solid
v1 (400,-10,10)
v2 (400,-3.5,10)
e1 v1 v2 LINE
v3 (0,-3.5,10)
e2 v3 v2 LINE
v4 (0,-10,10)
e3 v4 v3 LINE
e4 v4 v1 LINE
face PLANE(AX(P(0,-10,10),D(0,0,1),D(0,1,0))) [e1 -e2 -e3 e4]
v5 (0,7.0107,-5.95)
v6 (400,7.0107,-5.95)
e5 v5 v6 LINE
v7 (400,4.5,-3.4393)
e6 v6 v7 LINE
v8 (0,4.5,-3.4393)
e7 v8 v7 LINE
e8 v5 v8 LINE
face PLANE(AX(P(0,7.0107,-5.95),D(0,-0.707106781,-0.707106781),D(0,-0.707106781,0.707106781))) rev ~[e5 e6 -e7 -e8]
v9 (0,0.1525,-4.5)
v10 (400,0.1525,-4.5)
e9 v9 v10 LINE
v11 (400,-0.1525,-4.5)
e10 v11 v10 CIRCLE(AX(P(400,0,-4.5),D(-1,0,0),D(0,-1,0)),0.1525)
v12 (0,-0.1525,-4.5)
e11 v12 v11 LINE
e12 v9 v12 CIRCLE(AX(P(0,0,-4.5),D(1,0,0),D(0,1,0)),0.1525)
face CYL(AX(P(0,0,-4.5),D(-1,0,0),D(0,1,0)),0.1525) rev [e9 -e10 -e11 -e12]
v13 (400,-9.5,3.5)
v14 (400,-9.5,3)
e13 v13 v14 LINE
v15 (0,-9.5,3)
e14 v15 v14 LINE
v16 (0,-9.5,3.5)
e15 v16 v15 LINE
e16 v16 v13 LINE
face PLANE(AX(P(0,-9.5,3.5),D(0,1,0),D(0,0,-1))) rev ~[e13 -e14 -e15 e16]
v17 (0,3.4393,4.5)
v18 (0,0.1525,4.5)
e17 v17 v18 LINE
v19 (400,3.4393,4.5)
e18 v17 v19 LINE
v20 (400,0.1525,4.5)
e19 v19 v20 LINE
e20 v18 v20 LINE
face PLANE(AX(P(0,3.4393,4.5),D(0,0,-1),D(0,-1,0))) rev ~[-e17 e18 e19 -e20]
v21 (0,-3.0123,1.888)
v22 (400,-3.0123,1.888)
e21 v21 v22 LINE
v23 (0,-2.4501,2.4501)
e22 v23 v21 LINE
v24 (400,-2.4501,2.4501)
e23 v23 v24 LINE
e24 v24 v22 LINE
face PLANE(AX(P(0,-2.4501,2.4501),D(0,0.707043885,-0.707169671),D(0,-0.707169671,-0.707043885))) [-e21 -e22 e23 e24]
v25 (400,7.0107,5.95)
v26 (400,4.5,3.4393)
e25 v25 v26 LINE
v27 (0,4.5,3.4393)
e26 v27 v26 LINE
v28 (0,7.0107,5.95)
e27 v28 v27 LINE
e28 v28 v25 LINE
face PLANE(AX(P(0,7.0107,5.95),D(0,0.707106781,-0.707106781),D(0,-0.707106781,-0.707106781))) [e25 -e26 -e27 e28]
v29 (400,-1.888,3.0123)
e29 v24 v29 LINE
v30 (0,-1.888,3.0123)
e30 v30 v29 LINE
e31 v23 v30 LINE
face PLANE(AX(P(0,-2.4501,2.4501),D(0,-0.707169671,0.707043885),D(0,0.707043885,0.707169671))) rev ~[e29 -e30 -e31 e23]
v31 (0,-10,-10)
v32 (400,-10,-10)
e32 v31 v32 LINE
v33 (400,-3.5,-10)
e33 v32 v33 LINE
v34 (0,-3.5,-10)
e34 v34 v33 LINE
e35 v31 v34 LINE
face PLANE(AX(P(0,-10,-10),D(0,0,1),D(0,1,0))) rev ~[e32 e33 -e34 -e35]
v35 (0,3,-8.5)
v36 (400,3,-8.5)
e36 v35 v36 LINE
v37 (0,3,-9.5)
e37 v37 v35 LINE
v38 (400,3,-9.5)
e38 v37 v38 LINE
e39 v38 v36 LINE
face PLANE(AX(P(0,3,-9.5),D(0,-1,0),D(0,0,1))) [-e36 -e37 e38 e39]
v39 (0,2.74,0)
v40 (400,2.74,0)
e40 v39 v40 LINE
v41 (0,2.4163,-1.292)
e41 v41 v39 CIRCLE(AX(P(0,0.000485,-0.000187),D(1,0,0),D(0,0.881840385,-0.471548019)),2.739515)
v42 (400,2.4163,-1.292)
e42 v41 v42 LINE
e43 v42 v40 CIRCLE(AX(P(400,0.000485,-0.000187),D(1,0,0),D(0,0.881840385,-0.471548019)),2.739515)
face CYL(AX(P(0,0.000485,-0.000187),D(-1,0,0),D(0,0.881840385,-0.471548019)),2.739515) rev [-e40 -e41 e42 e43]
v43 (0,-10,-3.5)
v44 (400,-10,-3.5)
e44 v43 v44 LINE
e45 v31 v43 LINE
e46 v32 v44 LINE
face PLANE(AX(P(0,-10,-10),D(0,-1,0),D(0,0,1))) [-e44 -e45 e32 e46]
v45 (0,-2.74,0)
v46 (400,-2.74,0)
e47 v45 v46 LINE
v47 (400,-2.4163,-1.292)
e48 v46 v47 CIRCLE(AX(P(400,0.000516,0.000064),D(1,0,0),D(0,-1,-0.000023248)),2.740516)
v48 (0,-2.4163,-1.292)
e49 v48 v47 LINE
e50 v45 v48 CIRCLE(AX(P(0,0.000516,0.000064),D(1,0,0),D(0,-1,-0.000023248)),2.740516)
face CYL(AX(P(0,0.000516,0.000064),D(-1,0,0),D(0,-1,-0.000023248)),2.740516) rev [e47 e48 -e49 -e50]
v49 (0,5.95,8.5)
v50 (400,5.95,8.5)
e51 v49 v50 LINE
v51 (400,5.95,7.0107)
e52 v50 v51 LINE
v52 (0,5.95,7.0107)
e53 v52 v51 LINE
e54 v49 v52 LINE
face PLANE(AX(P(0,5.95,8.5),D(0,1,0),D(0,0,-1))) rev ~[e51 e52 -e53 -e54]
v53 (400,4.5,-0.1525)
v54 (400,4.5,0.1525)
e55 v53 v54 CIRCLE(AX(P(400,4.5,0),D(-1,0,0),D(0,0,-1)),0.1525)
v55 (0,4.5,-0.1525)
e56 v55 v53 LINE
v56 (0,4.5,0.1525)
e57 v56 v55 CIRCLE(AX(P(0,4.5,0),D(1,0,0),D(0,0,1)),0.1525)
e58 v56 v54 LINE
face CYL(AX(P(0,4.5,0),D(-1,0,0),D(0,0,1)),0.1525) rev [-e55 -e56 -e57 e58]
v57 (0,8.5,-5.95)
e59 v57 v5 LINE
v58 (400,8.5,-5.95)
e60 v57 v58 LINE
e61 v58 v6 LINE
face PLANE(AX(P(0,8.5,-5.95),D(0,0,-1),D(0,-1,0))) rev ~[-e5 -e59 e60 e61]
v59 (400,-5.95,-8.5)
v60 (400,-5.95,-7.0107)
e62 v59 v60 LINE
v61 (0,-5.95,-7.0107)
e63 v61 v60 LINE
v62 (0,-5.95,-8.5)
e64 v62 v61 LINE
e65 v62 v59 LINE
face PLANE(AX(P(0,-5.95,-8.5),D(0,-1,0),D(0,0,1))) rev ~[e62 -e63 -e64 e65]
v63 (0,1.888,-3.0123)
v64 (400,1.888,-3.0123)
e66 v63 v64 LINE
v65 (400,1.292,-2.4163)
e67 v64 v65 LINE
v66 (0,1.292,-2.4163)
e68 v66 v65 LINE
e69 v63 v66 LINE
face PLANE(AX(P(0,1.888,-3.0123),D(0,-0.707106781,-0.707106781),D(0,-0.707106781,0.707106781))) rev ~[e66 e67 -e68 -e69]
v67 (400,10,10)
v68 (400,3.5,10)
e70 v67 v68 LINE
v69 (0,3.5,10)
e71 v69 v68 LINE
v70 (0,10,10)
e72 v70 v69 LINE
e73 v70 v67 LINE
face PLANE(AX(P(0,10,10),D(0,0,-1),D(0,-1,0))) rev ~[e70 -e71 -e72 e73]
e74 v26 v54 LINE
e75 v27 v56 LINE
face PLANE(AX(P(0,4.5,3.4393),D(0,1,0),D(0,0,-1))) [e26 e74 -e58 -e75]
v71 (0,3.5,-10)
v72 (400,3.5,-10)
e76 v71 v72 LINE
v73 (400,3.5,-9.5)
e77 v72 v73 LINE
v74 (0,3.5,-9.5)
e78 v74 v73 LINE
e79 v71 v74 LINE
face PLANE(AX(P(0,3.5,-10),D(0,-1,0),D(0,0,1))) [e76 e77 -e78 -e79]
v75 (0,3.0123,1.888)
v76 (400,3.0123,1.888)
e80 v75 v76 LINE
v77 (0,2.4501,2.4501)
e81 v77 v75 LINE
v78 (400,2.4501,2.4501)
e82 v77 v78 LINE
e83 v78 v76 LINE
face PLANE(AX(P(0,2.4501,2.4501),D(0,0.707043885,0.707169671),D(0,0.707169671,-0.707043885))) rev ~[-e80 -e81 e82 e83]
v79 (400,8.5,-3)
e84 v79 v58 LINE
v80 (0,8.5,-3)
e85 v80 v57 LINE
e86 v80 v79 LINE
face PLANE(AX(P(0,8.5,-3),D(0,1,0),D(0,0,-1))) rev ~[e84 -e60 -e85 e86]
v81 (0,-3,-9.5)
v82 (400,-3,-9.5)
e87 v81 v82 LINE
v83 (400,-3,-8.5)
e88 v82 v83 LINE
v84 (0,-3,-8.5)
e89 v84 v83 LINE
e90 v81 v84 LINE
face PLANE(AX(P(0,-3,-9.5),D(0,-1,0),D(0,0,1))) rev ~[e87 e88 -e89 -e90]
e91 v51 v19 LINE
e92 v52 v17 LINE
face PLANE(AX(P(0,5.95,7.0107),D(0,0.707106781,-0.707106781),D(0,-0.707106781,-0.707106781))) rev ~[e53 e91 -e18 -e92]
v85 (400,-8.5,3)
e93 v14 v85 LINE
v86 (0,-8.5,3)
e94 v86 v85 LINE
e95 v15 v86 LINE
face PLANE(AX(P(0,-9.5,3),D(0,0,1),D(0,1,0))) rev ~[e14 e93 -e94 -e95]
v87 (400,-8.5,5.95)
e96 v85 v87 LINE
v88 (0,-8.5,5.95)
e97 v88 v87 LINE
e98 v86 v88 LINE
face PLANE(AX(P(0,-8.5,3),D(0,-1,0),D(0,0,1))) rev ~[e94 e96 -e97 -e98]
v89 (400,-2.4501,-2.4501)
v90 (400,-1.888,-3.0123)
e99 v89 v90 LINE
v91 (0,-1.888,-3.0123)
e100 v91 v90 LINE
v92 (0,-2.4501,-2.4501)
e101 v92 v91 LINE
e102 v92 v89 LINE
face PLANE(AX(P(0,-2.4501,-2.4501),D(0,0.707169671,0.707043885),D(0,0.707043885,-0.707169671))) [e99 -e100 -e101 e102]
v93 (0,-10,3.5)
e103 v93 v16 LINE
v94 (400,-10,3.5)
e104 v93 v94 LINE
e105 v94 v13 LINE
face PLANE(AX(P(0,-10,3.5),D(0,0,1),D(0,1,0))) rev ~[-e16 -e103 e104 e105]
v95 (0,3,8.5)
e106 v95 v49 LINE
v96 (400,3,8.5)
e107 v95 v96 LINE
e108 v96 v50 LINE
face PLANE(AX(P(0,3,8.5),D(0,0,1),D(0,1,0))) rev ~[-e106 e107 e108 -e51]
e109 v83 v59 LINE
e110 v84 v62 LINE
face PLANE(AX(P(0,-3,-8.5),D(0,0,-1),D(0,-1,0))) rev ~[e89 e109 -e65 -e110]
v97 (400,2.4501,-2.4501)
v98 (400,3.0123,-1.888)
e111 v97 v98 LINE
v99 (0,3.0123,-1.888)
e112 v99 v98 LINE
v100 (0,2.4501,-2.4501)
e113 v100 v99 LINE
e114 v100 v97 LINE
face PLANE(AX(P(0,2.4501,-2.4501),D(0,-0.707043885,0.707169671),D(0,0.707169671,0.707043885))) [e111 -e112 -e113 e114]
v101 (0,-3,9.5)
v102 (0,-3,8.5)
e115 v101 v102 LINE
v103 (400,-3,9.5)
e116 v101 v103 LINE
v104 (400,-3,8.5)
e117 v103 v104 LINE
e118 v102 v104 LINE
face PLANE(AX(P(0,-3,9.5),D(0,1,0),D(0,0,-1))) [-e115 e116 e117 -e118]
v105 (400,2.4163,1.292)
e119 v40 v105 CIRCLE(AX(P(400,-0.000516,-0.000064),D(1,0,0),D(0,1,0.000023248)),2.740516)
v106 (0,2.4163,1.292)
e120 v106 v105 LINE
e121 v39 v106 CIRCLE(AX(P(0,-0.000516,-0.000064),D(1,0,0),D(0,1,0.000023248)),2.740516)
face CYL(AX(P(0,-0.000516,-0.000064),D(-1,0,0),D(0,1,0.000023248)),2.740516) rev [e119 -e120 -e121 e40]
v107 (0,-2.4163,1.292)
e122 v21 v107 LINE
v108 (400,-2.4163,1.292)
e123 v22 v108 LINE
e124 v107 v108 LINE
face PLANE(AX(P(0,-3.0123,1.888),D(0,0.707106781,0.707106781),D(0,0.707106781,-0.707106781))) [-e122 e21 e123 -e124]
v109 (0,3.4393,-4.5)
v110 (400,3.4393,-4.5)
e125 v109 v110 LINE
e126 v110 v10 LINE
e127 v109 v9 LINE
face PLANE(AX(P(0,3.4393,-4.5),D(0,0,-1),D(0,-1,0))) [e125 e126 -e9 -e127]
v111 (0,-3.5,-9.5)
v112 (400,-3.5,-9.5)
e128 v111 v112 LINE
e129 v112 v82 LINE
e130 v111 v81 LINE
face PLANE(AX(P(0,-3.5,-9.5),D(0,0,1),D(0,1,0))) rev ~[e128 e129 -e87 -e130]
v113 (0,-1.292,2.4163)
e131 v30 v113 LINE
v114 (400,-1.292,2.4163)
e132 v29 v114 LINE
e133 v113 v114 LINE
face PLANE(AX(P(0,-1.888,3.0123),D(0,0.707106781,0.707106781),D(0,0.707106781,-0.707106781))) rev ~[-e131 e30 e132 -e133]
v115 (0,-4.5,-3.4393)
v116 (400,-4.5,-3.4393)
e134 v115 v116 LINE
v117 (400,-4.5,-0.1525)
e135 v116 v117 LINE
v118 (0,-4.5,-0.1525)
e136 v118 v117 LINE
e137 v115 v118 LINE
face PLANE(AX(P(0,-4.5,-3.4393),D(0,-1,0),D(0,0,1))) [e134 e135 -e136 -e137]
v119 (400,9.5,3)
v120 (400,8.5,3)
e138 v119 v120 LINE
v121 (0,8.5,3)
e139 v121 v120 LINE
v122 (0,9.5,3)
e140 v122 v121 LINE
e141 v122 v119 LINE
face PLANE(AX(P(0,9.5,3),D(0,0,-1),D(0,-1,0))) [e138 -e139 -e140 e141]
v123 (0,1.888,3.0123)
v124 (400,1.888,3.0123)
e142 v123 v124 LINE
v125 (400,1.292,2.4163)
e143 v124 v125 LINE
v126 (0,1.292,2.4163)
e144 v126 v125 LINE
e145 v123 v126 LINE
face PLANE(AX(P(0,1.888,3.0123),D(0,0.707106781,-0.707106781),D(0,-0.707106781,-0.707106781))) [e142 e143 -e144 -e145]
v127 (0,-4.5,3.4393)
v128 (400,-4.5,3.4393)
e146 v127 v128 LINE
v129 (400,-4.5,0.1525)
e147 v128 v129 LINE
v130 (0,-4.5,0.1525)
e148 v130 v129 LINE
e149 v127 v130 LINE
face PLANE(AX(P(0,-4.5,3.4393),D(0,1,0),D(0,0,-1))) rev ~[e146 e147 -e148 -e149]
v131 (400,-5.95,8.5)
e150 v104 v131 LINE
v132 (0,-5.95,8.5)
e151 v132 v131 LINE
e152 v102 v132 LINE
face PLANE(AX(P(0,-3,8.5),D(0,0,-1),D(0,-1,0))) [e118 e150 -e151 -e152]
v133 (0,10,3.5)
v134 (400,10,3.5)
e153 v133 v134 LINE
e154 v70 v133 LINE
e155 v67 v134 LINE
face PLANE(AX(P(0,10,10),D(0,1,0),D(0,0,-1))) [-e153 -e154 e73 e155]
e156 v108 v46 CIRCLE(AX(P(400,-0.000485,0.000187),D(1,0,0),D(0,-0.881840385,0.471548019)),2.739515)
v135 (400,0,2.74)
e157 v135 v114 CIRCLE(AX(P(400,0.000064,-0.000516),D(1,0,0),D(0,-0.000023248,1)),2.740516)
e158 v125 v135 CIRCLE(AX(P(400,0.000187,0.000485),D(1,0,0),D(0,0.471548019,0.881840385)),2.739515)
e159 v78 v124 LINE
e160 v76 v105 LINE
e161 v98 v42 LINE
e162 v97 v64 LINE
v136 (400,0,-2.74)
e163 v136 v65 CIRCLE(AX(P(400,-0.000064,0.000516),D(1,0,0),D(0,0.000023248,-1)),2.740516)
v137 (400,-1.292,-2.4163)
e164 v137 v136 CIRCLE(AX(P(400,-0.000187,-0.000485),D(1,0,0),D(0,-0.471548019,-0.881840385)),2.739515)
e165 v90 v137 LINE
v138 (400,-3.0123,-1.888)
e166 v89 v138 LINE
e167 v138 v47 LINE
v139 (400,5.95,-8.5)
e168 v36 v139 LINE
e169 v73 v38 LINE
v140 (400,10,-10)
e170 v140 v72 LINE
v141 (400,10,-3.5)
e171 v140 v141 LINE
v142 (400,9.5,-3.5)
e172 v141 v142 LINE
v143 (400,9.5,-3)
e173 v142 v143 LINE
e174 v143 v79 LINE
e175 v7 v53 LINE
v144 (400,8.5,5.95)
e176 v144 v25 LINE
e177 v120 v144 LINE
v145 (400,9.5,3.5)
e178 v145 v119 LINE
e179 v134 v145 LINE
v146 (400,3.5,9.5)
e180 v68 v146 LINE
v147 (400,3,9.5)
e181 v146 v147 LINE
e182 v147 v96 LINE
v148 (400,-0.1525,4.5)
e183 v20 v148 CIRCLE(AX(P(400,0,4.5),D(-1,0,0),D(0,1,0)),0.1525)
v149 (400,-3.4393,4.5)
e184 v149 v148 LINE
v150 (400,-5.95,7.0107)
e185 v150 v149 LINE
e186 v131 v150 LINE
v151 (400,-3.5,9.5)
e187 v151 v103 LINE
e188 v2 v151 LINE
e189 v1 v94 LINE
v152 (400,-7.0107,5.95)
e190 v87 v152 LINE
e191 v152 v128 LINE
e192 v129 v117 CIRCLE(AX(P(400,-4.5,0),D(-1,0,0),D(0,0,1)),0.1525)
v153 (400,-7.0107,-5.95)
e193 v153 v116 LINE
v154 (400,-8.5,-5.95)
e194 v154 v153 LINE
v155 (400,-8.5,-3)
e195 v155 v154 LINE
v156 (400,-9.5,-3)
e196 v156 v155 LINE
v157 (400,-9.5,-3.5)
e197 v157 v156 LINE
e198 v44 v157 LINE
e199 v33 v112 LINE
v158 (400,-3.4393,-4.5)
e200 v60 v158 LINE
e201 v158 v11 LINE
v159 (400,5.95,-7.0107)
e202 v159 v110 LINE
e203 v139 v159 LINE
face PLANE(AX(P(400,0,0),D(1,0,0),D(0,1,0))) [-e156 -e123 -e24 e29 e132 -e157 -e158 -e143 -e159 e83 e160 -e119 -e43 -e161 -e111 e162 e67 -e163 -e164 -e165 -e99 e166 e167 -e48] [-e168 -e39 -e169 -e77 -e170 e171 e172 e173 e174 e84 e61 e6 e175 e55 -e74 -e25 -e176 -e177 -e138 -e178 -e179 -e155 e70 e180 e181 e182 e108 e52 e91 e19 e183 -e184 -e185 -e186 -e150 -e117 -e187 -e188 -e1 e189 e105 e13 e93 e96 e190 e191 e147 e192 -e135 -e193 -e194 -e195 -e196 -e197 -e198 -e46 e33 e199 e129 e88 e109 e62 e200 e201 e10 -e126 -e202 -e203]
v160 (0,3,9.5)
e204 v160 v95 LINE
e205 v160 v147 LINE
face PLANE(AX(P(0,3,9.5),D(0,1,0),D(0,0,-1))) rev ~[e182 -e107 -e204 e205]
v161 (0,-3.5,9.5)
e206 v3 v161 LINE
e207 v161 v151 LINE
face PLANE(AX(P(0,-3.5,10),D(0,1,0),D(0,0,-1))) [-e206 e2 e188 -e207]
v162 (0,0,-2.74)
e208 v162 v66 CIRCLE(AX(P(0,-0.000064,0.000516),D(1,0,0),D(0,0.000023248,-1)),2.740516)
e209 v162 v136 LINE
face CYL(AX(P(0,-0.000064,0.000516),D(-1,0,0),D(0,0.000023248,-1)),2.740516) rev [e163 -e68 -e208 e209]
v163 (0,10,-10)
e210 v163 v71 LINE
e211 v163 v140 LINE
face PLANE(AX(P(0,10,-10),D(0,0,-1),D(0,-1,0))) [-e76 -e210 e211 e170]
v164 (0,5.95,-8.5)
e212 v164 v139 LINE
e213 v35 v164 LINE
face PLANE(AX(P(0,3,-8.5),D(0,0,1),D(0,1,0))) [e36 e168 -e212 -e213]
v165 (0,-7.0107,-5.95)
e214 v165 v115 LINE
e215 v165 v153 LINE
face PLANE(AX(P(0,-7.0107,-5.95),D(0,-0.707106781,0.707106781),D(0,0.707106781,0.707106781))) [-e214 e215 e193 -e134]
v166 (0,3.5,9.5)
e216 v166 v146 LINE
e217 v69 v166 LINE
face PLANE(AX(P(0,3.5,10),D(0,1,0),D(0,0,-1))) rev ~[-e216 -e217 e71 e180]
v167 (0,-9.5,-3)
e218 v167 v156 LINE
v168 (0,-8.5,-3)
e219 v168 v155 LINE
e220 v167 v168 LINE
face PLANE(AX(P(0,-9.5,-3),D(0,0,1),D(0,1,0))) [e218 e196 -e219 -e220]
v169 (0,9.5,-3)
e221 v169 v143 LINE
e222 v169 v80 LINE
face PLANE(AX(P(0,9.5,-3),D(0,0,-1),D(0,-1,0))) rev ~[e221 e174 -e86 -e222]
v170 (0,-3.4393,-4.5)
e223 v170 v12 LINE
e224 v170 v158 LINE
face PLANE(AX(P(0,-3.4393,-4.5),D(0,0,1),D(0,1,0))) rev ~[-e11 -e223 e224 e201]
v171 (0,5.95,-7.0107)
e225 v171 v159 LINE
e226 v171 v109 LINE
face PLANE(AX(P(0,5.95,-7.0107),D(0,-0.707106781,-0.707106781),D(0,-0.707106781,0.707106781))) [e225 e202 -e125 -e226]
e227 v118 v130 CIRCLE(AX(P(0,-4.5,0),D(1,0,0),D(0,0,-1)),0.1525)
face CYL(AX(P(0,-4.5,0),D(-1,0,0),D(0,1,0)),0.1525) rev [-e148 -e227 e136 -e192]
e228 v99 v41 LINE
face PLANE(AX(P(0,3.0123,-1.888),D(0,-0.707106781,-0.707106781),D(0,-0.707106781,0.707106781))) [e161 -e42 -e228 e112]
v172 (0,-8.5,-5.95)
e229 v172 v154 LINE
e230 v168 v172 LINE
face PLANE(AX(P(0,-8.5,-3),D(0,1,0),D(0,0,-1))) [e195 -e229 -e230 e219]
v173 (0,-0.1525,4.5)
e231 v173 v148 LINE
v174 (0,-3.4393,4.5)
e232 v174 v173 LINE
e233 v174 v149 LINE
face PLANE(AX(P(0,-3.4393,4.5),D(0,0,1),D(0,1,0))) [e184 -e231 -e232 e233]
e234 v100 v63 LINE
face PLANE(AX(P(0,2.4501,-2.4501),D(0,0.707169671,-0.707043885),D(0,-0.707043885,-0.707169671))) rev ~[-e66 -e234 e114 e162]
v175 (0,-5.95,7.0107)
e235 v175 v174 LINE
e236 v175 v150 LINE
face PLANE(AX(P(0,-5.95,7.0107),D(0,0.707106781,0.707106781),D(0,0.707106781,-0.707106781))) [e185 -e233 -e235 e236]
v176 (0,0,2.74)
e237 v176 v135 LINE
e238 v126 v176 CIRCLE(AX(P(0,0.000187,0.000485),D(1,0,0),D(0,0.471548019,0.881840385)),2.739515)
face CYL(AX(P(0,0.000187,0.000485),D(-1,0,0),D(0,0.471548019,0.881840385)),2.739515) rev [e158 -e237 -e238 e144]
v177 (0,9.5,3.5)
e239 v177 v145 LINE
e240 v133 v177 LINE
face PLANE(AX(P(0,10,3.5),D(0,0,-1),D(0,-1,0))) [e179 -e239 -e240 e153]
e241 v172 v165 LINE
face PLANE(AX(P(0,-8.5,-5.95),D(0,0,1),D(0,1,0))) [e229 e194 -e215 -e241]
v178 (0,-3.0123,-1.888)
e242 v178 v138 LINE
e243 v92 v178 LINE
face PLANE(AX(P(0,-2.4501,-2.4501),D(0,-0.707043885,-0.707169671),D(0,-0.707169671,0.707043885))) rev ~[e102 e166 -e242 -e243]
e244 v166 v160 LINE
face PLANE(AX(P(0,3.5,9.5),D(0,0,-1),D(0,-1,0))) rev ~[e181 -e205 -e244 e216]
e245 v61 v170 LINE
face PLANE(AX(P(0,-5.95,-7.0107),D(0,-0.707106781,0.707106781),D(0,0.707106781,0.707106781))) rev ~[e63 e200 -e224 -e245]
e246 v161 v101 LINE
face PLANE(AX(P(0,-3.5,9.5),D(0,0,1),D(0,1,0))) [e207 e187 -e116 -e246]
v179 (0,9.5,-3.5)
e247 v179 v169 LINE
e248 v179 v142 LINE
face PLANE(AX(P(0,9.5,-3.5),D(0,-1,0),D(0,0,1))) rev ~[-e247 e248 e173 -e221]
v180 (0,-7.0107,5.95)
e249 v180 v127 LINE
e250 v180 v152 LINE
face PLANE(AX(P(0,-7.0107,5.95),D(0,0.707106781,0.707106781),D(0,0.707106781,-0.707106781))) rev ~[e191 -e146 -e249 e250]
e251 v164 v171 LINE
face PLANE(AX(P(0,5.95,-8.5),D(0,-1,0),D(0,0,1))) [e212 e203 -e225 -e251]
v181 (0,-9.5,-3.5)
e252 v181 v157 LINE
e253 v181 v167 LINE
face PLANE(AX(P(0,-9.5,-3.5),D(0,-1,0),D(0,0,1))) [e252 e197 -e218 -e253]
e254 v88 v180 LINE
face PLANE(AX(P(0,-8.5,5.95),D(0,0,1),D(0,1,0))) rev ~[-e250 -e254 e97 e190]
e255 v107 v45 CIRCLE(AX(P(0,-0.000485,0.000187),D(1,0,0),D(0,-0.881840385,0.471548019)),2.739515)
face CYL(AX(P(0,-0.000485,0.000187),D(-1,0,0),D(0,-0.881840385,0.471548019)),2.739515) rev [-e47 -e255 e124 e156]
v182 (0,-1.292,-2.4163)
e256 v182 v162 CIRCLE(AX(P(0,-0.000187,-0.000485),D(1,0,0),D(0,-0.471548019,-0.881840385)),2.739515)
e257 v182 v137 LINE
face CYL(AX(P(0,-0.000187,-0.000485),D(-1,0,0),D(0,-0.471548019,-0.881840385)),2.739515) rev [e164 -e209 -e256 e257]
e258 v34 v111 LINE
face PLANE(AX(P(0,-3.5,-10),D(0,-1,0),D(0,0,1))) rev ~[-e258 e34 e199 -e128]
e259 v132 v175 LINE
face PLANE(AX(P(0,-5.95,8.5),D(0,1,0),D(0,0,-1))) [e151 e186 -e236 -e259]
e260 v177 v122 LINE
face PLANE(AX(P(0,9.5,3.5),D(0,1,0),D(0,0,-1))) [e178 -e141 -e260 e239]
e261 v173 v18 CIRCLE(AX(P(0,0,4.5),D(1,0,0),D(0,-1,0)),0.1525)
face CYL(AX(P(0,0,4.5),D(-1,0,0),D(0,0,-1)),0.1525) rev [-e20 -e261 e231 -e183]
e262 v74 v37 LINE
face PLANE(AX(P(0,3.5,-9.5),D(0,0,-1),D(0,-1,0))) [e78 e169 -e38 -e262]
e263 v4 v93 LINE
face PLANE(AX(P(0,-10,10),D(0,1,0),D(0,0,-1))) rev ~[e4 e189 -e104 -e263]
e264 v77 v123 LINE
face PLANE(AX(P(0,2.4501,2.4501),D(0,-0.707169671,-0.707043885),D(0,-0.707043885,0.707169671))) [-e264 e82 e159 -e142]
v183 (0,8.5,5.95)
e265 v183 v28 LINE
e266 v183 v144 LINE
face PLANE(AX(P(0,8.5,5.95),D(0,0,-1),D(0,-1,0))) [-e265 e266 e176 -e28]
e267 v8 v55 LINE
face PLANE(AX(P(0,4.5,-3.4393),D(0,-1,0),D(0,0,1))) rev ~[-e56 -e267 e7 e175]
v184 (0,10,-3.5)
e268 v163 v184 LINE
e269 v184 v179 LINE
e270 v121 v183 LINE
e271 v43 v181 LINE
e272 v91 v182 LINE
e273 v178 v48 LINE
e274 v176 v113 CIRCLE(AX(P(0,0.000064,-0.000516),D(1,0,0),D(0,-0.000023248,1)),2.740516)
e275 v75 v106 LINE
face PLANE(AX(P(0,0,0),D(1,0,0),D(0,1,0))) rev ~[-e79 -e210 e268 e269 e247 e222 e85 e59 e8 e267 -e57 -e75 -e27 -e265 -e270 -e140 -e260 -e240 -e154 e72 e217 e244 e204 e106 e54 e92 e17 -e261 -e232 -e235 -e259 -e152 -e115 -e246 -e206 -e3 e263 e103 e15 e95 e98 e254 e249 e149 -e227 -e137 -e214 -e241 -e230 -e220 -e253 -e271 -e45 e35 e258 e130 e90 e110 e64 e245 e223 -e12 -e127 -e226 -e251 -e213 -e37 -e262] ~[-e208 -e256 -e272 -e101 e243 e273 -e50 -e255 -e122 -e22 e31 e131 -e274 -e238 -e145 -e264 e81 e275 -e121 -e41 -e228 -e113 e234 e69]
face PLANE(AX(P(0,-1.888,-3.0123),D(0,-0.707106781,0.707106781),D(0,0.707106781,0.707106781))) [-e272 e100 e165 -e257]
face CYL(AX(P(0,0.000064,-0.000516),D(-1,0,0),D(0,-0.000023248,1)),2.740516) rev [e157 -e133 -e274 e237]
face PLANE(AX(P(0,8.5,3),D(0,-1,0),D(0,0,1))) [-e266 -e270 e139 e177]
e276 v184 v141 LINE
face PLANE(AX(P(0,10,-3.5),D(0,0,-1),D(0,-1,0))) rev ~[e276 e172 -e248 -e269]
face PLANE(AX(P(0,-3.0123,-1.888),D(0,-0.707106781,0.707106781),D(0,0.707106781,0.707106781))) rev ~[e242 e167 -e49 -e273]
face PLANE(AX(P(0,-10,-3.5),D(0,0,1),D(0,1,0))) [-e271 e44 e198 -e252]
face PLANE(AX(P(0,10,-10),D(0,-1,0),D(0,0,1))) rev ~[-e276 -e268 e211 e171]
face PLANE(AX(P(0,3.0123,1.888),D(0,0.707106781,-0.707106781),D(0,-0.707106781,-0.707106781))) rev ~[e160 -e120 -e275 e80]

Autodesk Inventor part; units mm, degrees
ref_plane "YZ Plane" through (0, 0, 0) normal (1, 0, 0) x (0, 1, 0)
ref_plane "XZ Plane" through (0, 0, 0) normal (0, 1, 0) x (-1, 0, 0)
ref_plane "XY Plane" through (0, 0, 0) normal (0, 0, 1) x (1, 0, 0)
sketch "Sketch1" plane through (0, 0, 0) normal (1, 0, 0) x (0, 1, 0)
  line L0 (-10, -10) -> (10, 10) construction
  line L1 (10, 10) -> (10, 3.5)
  line L2 (10, 3.5) -> (9.5, 3.5)
  line L3 (9.5, 3.5) -> (9.5, 3)
  line L4 (9.5, 3) -> (8.5, 3)
  line L5 (8.5, 3) -> (8.5, 5.95)
  line L6 (8.5, 5.95) -> (7.0107, 5.95)
  line L7 (7.0107, 5.95) -> (4.5, 3.4393)
  line L8 (4.5, 3.4393) -> (4.5, 0.1525)
  line L9 (2.4501, 2.4501) -> (3.0123, 1.888)
  line L10 (3.0123, 1.888) -> (2.4163, 1.292)
  arc A0 (2.74, 0) -> (2.4163, 1.292) centre (0, 0) ccw
  arc A1 (4.5, 0.1525) -> (4.3475, 0) centre (4.5, 0) ccw
  line L11 (10, 10) -> (2.4501, 2.4501)
  line L12 (4.3475, 0) -> (2.74, 0)
  line L13 (0, 0) -> (2.74, 0) construction
  line L14 (10, 10) -> (3.5, 10)
  line L15 (3.5, 10) -> (3.5, 9.5)
  line L16 (3.5, 9.5) -> (3, 9.5)
  line L17 (3, 9.5) -> (3, 8.5)
  line L18 (3, 8.5) -> (5.95, 8.5)
  line L19 (5.95, 8.5) -> (5.95, 7.0107)
  line L20 (5.95, 7.0107) -> (3.4393, 4.5)
  line L21 (3.4393, 4.5) -> (0.1525, 4.5)
  line L22 (2.4501, 2.4501) -> (1.888, 3.0123)
  line L23 (1.888, 3.0123) -> (1.292, 2.4163)
  arc A2 (1.292, 2.4163) -> (0, 2.74) centre (0, 0) ccw
  arc A3 (0, 4.3475) -> (0.1525, 4.5) centre (0, 4.5) ccw
  line L24 (0, 4.3475) -> (0, 2.74)
  line L25 (0, 0) -> (0, 2.74) construction
  line L26 (-8.5, 5.95) -> (-7.0107, 5.95)
  line L27 (-10, 3.5) -> (-9.5, 3.5)
  line L28 (-8.5, 3) -> (-8.5, 5.95)
  line L29 (-9.5, 3.5) -> (-9.5, 3)
  line L30 (-9.5, 3) -> (-8.5, 3)
  line L31 (-5.95, 8.5) -> (-5.95, 7.0107)
  line L32 (-7.0107, 5.95) -> (-4.5, 3.4393)
  line L33 (-5.95, 7.0107) -> (-3.4393, 4.5)
  line L34 (-10, 10) -> (-10, 3.5)
  line L35 (-10, 10) -> (-3.5, 10)
  line L36 (-10, 10) -> (-2.4501, 2.4501)
  line L37 (-3, 8.5) -> (-5.95, 8.5)
  line L38 (-3, 9.5) -> (-3, 8.5)
  line L39 (-3.5, 10) -> (-3.5, 9.5)
  line L40 (-3.5, 9.5) -> (-3, 9.5)
  line L41 (-3.4393, 4.5) -> (-0.1525, 4.5)
  line L42 (-2.4501, 2.4501) -> (-1.888, 3.0123)
  line L43 (-1.888, 3.0123) -> (-1.292, 2.4163)
  arc A4 (0, 2.74) -> (-1.292, 2.4163) centre (0, 0) ccw
  arc A5 (-0.1525, 4.5) -> (0, 4.3475) centre (0, 4.5) ccw
  line L44 (-2.4501, 2.4501) -> (-3.0123, 1.888)
  line L45 (-4.5, 3.4393) -> (-4.5, 0.1525)
  arc A6 (-4.3475, 0) -> (-4.5, 0.1525) centre (-4.5, 0) ccw
  line L46 (0, 4.3475) -> (0, 2.74)
  line L47 (-4.3475, 0) -> (-2.74, 0)
  arc A7 (-2.4163, 1.292) -> (-2.74, 0) centre (0, 0) ccw
  line L48 (0, 0) -> (0, 2.74) construction
  line L49 (-3.0123, 1.888) -> (-2.4163, 1.292)
  line L50 (-5.95, -8.5) -> (-5.95, -7.0107)
  line L51 (-3.5, -10) -> (-3.5, -9.5)
  line L52 (-3, -8.5) -> (-5.95, -8.5)
  line L53 (-3.5, -9.5) -> (-3, -9.5)
  line L54 (-3, -9.5) -> (-3, -8.5)
  line L55 (-8.5, -5.95) -> (-7.0107, -5.95)
  line L56 (-5.95, -7.0107) -> (-3.4393, -4.5)
  line L57 (-7.0107, -5.95) -> (-4.5, -3.4393)
  line L58 (-10, -10) -> (-3.5, -10)
  line L59 (-10, -10) -> (-10, -3.5)
  line L60 (-10, -10) -> (-2.4501, -2.4501)
  line L61 (-8.5, -3) -> (-8.5, -5.95)
  line L62 (-9.5, -3) -> (-8.5, -3)
  line L63 (-10, -3.5) -> (-9.5, -3.5)
  line L64 (-9.5, -3.5) -> (-9.5, -3)
  line L65 (-4.5, -3.4393) -> (-4.5, -0.1525)
  line L66 (-2.4501, -2.4501) -> (-3.0123, -1.888)
  line L67 (-3.0123, -1.888) -> (-2.4163, -1.292)
  arc A8 (-2.74, 0) -> (-2.4163, -1.292) centre (0, 0) ccw
  arc A9 (-4.5, -0.1525) -> (-4.3475, 0) centre (-4.5, 0) ccw
  line L68 (-2.4501, -2.4501) -> (-1.888, -3.0123)
  line L69 (-3.4393, -4.5) -> (-0.1525, -4.5)
  arc A10 (0, -4.3475) -> (-0.1525, -4.5) centre (0, -4.5) ccw
  line L70 (-4.3475, 0) -> (-2.74, 0)
  line L71 (0, -4.3475) -> (0, -2.74)
  arc A11 (-1.292, -2.4163) -> (0, -2.74) centre (0, 0) ccw
  line L72 (0, 0) -> (-2.74, 0) construction
  line L73 (-1.888, -3.0123) -> (-1.292, -2.4163)
  line L74 (8.5, -5.95) -> (7.0107, -5.95)
  line L75 (10, -3.5) -> (9.5, -3.5)
  line L76 (8.5, -3) -> (8.5, -5.95)
  line L77 (9.5, -3.5) -> (9.5, -3)
  line L78 (9.5, -3) -> (8.5, -3)
  line L79 (5.95, -8.5) -> (5.95, -7.0107)
  line L80 (7.0107, -5.95) -> (4.5, -3.4393)
  line L81 (5.95, -7.0107) -> (3.4393, -4.5)
  line L82 (10, -10) -> (10, -3.5)
  line L83 (10, -10) -> (3.5, -10)
  line L84 (10, -10) -> (2.4501, -2.4501)
  line L85 (3, -8.5) -> (5.95, -8.5)
  line L86 (3, -9.5) -> (3, -8.5)
  line L87 (3.5, -10) -> (3.5, -9.5)
  line L88 (3.5, -9.5) -> (3, -9.5)
  line L89 (3.4393, -4.5) -> (0.1525, -4.5)
  line L90 (2.4501, -2.4501) -> (1.888, -3.0123)
  line L91 (1.888, -3.0123) -> (1.292, -2.4163)
  arc A12 (0, -2.74) -> (1.292, -2.4163) centre (0, 0) ccw
  arc A13 (0.1525, -4.5) -> (0, -4.3475) centre (0, -4.5) ccw
  line L92 (2.4501, -2.4501) -> (3.0123, -1.888)
  line L93 (4.5, -3.4393) -> (4.5, -0.1525)
  arc A14 (4.3475, 0) -> (4.5, -0.1525) centre (4.5, 0) ccw
  line L94 (0, -4.3475) -> (0, -2.74)
  line L95 (4.3475, 0) -> (2.74, 0)
  arc A15 (2.4163, -1.292) -> (2.74, 0) centre (0, 0) ccw
  line L96 (0, 0) -> (0, -2.74) construction
  line L97 (3.0123, -1.888) -> (2.4163, -1.292)
  point P0 (9, 3)
  point P1 (3, 9)
  point P2 (-9, 3)
  point P3 (-3, 9)
  point P4 (-3, -9)
  point P5 (-9, -3)
  point P6 (9, -3)
  point P7 (3, -9)
  dimension "d2" = 6.5
  dimension "d3" = 0.5
  dimension "d4" = 4
  dimension "d5" = 3.465
  dimension "d6" = 5.48
  dimension "d7" = 0.795
  dimension "d8" = 0.305
  dimension "d9" = 2.95
  dimension "d11" = 0.75
  dimension "d14" = 45
  dimension "d15" = 10
  dimension "d16" = 1
  dimension "d17" = 3
  dimension "d18" = 45
  dimension "d21" = 360
extrude "Extrusion1" add sketch "Sketch1" along normal blind 400 contours L1 L2 L3 L4 L5 L6 L7 L8 A1 L12 A0 L10 L9 L11 | L11 L22 L23 A2 L24 A3 L21 L20 L19 L18 L17 L16 L15 L14 | L12 A14 L93 L80 L74 L76 L78 L77 L75 L82 L84 L92 L97 A15 | A4 L43 L42 L36 L35 L39 L40 L38 L37 L31 L33 L41 A5 L24 | L84 L83 L87 L88 L86 L85 L79 L81 L89 A13 L71 A12 L91 L90 | L44 L49 A7 L47 A6 L45 L32 L26 L28 L30 L29 L27 L34 L36 | L71 A10 L69 L56 L50 L52 L54 L53 L51 L58 L60 L68 L73 A11 | A8 L67 L66 L60 L59 L63 L64 L62 L61 L55 L57 L65 A9 L47
properties part number "20mm Extrusion 500mm" material "Aluminum 6061"
